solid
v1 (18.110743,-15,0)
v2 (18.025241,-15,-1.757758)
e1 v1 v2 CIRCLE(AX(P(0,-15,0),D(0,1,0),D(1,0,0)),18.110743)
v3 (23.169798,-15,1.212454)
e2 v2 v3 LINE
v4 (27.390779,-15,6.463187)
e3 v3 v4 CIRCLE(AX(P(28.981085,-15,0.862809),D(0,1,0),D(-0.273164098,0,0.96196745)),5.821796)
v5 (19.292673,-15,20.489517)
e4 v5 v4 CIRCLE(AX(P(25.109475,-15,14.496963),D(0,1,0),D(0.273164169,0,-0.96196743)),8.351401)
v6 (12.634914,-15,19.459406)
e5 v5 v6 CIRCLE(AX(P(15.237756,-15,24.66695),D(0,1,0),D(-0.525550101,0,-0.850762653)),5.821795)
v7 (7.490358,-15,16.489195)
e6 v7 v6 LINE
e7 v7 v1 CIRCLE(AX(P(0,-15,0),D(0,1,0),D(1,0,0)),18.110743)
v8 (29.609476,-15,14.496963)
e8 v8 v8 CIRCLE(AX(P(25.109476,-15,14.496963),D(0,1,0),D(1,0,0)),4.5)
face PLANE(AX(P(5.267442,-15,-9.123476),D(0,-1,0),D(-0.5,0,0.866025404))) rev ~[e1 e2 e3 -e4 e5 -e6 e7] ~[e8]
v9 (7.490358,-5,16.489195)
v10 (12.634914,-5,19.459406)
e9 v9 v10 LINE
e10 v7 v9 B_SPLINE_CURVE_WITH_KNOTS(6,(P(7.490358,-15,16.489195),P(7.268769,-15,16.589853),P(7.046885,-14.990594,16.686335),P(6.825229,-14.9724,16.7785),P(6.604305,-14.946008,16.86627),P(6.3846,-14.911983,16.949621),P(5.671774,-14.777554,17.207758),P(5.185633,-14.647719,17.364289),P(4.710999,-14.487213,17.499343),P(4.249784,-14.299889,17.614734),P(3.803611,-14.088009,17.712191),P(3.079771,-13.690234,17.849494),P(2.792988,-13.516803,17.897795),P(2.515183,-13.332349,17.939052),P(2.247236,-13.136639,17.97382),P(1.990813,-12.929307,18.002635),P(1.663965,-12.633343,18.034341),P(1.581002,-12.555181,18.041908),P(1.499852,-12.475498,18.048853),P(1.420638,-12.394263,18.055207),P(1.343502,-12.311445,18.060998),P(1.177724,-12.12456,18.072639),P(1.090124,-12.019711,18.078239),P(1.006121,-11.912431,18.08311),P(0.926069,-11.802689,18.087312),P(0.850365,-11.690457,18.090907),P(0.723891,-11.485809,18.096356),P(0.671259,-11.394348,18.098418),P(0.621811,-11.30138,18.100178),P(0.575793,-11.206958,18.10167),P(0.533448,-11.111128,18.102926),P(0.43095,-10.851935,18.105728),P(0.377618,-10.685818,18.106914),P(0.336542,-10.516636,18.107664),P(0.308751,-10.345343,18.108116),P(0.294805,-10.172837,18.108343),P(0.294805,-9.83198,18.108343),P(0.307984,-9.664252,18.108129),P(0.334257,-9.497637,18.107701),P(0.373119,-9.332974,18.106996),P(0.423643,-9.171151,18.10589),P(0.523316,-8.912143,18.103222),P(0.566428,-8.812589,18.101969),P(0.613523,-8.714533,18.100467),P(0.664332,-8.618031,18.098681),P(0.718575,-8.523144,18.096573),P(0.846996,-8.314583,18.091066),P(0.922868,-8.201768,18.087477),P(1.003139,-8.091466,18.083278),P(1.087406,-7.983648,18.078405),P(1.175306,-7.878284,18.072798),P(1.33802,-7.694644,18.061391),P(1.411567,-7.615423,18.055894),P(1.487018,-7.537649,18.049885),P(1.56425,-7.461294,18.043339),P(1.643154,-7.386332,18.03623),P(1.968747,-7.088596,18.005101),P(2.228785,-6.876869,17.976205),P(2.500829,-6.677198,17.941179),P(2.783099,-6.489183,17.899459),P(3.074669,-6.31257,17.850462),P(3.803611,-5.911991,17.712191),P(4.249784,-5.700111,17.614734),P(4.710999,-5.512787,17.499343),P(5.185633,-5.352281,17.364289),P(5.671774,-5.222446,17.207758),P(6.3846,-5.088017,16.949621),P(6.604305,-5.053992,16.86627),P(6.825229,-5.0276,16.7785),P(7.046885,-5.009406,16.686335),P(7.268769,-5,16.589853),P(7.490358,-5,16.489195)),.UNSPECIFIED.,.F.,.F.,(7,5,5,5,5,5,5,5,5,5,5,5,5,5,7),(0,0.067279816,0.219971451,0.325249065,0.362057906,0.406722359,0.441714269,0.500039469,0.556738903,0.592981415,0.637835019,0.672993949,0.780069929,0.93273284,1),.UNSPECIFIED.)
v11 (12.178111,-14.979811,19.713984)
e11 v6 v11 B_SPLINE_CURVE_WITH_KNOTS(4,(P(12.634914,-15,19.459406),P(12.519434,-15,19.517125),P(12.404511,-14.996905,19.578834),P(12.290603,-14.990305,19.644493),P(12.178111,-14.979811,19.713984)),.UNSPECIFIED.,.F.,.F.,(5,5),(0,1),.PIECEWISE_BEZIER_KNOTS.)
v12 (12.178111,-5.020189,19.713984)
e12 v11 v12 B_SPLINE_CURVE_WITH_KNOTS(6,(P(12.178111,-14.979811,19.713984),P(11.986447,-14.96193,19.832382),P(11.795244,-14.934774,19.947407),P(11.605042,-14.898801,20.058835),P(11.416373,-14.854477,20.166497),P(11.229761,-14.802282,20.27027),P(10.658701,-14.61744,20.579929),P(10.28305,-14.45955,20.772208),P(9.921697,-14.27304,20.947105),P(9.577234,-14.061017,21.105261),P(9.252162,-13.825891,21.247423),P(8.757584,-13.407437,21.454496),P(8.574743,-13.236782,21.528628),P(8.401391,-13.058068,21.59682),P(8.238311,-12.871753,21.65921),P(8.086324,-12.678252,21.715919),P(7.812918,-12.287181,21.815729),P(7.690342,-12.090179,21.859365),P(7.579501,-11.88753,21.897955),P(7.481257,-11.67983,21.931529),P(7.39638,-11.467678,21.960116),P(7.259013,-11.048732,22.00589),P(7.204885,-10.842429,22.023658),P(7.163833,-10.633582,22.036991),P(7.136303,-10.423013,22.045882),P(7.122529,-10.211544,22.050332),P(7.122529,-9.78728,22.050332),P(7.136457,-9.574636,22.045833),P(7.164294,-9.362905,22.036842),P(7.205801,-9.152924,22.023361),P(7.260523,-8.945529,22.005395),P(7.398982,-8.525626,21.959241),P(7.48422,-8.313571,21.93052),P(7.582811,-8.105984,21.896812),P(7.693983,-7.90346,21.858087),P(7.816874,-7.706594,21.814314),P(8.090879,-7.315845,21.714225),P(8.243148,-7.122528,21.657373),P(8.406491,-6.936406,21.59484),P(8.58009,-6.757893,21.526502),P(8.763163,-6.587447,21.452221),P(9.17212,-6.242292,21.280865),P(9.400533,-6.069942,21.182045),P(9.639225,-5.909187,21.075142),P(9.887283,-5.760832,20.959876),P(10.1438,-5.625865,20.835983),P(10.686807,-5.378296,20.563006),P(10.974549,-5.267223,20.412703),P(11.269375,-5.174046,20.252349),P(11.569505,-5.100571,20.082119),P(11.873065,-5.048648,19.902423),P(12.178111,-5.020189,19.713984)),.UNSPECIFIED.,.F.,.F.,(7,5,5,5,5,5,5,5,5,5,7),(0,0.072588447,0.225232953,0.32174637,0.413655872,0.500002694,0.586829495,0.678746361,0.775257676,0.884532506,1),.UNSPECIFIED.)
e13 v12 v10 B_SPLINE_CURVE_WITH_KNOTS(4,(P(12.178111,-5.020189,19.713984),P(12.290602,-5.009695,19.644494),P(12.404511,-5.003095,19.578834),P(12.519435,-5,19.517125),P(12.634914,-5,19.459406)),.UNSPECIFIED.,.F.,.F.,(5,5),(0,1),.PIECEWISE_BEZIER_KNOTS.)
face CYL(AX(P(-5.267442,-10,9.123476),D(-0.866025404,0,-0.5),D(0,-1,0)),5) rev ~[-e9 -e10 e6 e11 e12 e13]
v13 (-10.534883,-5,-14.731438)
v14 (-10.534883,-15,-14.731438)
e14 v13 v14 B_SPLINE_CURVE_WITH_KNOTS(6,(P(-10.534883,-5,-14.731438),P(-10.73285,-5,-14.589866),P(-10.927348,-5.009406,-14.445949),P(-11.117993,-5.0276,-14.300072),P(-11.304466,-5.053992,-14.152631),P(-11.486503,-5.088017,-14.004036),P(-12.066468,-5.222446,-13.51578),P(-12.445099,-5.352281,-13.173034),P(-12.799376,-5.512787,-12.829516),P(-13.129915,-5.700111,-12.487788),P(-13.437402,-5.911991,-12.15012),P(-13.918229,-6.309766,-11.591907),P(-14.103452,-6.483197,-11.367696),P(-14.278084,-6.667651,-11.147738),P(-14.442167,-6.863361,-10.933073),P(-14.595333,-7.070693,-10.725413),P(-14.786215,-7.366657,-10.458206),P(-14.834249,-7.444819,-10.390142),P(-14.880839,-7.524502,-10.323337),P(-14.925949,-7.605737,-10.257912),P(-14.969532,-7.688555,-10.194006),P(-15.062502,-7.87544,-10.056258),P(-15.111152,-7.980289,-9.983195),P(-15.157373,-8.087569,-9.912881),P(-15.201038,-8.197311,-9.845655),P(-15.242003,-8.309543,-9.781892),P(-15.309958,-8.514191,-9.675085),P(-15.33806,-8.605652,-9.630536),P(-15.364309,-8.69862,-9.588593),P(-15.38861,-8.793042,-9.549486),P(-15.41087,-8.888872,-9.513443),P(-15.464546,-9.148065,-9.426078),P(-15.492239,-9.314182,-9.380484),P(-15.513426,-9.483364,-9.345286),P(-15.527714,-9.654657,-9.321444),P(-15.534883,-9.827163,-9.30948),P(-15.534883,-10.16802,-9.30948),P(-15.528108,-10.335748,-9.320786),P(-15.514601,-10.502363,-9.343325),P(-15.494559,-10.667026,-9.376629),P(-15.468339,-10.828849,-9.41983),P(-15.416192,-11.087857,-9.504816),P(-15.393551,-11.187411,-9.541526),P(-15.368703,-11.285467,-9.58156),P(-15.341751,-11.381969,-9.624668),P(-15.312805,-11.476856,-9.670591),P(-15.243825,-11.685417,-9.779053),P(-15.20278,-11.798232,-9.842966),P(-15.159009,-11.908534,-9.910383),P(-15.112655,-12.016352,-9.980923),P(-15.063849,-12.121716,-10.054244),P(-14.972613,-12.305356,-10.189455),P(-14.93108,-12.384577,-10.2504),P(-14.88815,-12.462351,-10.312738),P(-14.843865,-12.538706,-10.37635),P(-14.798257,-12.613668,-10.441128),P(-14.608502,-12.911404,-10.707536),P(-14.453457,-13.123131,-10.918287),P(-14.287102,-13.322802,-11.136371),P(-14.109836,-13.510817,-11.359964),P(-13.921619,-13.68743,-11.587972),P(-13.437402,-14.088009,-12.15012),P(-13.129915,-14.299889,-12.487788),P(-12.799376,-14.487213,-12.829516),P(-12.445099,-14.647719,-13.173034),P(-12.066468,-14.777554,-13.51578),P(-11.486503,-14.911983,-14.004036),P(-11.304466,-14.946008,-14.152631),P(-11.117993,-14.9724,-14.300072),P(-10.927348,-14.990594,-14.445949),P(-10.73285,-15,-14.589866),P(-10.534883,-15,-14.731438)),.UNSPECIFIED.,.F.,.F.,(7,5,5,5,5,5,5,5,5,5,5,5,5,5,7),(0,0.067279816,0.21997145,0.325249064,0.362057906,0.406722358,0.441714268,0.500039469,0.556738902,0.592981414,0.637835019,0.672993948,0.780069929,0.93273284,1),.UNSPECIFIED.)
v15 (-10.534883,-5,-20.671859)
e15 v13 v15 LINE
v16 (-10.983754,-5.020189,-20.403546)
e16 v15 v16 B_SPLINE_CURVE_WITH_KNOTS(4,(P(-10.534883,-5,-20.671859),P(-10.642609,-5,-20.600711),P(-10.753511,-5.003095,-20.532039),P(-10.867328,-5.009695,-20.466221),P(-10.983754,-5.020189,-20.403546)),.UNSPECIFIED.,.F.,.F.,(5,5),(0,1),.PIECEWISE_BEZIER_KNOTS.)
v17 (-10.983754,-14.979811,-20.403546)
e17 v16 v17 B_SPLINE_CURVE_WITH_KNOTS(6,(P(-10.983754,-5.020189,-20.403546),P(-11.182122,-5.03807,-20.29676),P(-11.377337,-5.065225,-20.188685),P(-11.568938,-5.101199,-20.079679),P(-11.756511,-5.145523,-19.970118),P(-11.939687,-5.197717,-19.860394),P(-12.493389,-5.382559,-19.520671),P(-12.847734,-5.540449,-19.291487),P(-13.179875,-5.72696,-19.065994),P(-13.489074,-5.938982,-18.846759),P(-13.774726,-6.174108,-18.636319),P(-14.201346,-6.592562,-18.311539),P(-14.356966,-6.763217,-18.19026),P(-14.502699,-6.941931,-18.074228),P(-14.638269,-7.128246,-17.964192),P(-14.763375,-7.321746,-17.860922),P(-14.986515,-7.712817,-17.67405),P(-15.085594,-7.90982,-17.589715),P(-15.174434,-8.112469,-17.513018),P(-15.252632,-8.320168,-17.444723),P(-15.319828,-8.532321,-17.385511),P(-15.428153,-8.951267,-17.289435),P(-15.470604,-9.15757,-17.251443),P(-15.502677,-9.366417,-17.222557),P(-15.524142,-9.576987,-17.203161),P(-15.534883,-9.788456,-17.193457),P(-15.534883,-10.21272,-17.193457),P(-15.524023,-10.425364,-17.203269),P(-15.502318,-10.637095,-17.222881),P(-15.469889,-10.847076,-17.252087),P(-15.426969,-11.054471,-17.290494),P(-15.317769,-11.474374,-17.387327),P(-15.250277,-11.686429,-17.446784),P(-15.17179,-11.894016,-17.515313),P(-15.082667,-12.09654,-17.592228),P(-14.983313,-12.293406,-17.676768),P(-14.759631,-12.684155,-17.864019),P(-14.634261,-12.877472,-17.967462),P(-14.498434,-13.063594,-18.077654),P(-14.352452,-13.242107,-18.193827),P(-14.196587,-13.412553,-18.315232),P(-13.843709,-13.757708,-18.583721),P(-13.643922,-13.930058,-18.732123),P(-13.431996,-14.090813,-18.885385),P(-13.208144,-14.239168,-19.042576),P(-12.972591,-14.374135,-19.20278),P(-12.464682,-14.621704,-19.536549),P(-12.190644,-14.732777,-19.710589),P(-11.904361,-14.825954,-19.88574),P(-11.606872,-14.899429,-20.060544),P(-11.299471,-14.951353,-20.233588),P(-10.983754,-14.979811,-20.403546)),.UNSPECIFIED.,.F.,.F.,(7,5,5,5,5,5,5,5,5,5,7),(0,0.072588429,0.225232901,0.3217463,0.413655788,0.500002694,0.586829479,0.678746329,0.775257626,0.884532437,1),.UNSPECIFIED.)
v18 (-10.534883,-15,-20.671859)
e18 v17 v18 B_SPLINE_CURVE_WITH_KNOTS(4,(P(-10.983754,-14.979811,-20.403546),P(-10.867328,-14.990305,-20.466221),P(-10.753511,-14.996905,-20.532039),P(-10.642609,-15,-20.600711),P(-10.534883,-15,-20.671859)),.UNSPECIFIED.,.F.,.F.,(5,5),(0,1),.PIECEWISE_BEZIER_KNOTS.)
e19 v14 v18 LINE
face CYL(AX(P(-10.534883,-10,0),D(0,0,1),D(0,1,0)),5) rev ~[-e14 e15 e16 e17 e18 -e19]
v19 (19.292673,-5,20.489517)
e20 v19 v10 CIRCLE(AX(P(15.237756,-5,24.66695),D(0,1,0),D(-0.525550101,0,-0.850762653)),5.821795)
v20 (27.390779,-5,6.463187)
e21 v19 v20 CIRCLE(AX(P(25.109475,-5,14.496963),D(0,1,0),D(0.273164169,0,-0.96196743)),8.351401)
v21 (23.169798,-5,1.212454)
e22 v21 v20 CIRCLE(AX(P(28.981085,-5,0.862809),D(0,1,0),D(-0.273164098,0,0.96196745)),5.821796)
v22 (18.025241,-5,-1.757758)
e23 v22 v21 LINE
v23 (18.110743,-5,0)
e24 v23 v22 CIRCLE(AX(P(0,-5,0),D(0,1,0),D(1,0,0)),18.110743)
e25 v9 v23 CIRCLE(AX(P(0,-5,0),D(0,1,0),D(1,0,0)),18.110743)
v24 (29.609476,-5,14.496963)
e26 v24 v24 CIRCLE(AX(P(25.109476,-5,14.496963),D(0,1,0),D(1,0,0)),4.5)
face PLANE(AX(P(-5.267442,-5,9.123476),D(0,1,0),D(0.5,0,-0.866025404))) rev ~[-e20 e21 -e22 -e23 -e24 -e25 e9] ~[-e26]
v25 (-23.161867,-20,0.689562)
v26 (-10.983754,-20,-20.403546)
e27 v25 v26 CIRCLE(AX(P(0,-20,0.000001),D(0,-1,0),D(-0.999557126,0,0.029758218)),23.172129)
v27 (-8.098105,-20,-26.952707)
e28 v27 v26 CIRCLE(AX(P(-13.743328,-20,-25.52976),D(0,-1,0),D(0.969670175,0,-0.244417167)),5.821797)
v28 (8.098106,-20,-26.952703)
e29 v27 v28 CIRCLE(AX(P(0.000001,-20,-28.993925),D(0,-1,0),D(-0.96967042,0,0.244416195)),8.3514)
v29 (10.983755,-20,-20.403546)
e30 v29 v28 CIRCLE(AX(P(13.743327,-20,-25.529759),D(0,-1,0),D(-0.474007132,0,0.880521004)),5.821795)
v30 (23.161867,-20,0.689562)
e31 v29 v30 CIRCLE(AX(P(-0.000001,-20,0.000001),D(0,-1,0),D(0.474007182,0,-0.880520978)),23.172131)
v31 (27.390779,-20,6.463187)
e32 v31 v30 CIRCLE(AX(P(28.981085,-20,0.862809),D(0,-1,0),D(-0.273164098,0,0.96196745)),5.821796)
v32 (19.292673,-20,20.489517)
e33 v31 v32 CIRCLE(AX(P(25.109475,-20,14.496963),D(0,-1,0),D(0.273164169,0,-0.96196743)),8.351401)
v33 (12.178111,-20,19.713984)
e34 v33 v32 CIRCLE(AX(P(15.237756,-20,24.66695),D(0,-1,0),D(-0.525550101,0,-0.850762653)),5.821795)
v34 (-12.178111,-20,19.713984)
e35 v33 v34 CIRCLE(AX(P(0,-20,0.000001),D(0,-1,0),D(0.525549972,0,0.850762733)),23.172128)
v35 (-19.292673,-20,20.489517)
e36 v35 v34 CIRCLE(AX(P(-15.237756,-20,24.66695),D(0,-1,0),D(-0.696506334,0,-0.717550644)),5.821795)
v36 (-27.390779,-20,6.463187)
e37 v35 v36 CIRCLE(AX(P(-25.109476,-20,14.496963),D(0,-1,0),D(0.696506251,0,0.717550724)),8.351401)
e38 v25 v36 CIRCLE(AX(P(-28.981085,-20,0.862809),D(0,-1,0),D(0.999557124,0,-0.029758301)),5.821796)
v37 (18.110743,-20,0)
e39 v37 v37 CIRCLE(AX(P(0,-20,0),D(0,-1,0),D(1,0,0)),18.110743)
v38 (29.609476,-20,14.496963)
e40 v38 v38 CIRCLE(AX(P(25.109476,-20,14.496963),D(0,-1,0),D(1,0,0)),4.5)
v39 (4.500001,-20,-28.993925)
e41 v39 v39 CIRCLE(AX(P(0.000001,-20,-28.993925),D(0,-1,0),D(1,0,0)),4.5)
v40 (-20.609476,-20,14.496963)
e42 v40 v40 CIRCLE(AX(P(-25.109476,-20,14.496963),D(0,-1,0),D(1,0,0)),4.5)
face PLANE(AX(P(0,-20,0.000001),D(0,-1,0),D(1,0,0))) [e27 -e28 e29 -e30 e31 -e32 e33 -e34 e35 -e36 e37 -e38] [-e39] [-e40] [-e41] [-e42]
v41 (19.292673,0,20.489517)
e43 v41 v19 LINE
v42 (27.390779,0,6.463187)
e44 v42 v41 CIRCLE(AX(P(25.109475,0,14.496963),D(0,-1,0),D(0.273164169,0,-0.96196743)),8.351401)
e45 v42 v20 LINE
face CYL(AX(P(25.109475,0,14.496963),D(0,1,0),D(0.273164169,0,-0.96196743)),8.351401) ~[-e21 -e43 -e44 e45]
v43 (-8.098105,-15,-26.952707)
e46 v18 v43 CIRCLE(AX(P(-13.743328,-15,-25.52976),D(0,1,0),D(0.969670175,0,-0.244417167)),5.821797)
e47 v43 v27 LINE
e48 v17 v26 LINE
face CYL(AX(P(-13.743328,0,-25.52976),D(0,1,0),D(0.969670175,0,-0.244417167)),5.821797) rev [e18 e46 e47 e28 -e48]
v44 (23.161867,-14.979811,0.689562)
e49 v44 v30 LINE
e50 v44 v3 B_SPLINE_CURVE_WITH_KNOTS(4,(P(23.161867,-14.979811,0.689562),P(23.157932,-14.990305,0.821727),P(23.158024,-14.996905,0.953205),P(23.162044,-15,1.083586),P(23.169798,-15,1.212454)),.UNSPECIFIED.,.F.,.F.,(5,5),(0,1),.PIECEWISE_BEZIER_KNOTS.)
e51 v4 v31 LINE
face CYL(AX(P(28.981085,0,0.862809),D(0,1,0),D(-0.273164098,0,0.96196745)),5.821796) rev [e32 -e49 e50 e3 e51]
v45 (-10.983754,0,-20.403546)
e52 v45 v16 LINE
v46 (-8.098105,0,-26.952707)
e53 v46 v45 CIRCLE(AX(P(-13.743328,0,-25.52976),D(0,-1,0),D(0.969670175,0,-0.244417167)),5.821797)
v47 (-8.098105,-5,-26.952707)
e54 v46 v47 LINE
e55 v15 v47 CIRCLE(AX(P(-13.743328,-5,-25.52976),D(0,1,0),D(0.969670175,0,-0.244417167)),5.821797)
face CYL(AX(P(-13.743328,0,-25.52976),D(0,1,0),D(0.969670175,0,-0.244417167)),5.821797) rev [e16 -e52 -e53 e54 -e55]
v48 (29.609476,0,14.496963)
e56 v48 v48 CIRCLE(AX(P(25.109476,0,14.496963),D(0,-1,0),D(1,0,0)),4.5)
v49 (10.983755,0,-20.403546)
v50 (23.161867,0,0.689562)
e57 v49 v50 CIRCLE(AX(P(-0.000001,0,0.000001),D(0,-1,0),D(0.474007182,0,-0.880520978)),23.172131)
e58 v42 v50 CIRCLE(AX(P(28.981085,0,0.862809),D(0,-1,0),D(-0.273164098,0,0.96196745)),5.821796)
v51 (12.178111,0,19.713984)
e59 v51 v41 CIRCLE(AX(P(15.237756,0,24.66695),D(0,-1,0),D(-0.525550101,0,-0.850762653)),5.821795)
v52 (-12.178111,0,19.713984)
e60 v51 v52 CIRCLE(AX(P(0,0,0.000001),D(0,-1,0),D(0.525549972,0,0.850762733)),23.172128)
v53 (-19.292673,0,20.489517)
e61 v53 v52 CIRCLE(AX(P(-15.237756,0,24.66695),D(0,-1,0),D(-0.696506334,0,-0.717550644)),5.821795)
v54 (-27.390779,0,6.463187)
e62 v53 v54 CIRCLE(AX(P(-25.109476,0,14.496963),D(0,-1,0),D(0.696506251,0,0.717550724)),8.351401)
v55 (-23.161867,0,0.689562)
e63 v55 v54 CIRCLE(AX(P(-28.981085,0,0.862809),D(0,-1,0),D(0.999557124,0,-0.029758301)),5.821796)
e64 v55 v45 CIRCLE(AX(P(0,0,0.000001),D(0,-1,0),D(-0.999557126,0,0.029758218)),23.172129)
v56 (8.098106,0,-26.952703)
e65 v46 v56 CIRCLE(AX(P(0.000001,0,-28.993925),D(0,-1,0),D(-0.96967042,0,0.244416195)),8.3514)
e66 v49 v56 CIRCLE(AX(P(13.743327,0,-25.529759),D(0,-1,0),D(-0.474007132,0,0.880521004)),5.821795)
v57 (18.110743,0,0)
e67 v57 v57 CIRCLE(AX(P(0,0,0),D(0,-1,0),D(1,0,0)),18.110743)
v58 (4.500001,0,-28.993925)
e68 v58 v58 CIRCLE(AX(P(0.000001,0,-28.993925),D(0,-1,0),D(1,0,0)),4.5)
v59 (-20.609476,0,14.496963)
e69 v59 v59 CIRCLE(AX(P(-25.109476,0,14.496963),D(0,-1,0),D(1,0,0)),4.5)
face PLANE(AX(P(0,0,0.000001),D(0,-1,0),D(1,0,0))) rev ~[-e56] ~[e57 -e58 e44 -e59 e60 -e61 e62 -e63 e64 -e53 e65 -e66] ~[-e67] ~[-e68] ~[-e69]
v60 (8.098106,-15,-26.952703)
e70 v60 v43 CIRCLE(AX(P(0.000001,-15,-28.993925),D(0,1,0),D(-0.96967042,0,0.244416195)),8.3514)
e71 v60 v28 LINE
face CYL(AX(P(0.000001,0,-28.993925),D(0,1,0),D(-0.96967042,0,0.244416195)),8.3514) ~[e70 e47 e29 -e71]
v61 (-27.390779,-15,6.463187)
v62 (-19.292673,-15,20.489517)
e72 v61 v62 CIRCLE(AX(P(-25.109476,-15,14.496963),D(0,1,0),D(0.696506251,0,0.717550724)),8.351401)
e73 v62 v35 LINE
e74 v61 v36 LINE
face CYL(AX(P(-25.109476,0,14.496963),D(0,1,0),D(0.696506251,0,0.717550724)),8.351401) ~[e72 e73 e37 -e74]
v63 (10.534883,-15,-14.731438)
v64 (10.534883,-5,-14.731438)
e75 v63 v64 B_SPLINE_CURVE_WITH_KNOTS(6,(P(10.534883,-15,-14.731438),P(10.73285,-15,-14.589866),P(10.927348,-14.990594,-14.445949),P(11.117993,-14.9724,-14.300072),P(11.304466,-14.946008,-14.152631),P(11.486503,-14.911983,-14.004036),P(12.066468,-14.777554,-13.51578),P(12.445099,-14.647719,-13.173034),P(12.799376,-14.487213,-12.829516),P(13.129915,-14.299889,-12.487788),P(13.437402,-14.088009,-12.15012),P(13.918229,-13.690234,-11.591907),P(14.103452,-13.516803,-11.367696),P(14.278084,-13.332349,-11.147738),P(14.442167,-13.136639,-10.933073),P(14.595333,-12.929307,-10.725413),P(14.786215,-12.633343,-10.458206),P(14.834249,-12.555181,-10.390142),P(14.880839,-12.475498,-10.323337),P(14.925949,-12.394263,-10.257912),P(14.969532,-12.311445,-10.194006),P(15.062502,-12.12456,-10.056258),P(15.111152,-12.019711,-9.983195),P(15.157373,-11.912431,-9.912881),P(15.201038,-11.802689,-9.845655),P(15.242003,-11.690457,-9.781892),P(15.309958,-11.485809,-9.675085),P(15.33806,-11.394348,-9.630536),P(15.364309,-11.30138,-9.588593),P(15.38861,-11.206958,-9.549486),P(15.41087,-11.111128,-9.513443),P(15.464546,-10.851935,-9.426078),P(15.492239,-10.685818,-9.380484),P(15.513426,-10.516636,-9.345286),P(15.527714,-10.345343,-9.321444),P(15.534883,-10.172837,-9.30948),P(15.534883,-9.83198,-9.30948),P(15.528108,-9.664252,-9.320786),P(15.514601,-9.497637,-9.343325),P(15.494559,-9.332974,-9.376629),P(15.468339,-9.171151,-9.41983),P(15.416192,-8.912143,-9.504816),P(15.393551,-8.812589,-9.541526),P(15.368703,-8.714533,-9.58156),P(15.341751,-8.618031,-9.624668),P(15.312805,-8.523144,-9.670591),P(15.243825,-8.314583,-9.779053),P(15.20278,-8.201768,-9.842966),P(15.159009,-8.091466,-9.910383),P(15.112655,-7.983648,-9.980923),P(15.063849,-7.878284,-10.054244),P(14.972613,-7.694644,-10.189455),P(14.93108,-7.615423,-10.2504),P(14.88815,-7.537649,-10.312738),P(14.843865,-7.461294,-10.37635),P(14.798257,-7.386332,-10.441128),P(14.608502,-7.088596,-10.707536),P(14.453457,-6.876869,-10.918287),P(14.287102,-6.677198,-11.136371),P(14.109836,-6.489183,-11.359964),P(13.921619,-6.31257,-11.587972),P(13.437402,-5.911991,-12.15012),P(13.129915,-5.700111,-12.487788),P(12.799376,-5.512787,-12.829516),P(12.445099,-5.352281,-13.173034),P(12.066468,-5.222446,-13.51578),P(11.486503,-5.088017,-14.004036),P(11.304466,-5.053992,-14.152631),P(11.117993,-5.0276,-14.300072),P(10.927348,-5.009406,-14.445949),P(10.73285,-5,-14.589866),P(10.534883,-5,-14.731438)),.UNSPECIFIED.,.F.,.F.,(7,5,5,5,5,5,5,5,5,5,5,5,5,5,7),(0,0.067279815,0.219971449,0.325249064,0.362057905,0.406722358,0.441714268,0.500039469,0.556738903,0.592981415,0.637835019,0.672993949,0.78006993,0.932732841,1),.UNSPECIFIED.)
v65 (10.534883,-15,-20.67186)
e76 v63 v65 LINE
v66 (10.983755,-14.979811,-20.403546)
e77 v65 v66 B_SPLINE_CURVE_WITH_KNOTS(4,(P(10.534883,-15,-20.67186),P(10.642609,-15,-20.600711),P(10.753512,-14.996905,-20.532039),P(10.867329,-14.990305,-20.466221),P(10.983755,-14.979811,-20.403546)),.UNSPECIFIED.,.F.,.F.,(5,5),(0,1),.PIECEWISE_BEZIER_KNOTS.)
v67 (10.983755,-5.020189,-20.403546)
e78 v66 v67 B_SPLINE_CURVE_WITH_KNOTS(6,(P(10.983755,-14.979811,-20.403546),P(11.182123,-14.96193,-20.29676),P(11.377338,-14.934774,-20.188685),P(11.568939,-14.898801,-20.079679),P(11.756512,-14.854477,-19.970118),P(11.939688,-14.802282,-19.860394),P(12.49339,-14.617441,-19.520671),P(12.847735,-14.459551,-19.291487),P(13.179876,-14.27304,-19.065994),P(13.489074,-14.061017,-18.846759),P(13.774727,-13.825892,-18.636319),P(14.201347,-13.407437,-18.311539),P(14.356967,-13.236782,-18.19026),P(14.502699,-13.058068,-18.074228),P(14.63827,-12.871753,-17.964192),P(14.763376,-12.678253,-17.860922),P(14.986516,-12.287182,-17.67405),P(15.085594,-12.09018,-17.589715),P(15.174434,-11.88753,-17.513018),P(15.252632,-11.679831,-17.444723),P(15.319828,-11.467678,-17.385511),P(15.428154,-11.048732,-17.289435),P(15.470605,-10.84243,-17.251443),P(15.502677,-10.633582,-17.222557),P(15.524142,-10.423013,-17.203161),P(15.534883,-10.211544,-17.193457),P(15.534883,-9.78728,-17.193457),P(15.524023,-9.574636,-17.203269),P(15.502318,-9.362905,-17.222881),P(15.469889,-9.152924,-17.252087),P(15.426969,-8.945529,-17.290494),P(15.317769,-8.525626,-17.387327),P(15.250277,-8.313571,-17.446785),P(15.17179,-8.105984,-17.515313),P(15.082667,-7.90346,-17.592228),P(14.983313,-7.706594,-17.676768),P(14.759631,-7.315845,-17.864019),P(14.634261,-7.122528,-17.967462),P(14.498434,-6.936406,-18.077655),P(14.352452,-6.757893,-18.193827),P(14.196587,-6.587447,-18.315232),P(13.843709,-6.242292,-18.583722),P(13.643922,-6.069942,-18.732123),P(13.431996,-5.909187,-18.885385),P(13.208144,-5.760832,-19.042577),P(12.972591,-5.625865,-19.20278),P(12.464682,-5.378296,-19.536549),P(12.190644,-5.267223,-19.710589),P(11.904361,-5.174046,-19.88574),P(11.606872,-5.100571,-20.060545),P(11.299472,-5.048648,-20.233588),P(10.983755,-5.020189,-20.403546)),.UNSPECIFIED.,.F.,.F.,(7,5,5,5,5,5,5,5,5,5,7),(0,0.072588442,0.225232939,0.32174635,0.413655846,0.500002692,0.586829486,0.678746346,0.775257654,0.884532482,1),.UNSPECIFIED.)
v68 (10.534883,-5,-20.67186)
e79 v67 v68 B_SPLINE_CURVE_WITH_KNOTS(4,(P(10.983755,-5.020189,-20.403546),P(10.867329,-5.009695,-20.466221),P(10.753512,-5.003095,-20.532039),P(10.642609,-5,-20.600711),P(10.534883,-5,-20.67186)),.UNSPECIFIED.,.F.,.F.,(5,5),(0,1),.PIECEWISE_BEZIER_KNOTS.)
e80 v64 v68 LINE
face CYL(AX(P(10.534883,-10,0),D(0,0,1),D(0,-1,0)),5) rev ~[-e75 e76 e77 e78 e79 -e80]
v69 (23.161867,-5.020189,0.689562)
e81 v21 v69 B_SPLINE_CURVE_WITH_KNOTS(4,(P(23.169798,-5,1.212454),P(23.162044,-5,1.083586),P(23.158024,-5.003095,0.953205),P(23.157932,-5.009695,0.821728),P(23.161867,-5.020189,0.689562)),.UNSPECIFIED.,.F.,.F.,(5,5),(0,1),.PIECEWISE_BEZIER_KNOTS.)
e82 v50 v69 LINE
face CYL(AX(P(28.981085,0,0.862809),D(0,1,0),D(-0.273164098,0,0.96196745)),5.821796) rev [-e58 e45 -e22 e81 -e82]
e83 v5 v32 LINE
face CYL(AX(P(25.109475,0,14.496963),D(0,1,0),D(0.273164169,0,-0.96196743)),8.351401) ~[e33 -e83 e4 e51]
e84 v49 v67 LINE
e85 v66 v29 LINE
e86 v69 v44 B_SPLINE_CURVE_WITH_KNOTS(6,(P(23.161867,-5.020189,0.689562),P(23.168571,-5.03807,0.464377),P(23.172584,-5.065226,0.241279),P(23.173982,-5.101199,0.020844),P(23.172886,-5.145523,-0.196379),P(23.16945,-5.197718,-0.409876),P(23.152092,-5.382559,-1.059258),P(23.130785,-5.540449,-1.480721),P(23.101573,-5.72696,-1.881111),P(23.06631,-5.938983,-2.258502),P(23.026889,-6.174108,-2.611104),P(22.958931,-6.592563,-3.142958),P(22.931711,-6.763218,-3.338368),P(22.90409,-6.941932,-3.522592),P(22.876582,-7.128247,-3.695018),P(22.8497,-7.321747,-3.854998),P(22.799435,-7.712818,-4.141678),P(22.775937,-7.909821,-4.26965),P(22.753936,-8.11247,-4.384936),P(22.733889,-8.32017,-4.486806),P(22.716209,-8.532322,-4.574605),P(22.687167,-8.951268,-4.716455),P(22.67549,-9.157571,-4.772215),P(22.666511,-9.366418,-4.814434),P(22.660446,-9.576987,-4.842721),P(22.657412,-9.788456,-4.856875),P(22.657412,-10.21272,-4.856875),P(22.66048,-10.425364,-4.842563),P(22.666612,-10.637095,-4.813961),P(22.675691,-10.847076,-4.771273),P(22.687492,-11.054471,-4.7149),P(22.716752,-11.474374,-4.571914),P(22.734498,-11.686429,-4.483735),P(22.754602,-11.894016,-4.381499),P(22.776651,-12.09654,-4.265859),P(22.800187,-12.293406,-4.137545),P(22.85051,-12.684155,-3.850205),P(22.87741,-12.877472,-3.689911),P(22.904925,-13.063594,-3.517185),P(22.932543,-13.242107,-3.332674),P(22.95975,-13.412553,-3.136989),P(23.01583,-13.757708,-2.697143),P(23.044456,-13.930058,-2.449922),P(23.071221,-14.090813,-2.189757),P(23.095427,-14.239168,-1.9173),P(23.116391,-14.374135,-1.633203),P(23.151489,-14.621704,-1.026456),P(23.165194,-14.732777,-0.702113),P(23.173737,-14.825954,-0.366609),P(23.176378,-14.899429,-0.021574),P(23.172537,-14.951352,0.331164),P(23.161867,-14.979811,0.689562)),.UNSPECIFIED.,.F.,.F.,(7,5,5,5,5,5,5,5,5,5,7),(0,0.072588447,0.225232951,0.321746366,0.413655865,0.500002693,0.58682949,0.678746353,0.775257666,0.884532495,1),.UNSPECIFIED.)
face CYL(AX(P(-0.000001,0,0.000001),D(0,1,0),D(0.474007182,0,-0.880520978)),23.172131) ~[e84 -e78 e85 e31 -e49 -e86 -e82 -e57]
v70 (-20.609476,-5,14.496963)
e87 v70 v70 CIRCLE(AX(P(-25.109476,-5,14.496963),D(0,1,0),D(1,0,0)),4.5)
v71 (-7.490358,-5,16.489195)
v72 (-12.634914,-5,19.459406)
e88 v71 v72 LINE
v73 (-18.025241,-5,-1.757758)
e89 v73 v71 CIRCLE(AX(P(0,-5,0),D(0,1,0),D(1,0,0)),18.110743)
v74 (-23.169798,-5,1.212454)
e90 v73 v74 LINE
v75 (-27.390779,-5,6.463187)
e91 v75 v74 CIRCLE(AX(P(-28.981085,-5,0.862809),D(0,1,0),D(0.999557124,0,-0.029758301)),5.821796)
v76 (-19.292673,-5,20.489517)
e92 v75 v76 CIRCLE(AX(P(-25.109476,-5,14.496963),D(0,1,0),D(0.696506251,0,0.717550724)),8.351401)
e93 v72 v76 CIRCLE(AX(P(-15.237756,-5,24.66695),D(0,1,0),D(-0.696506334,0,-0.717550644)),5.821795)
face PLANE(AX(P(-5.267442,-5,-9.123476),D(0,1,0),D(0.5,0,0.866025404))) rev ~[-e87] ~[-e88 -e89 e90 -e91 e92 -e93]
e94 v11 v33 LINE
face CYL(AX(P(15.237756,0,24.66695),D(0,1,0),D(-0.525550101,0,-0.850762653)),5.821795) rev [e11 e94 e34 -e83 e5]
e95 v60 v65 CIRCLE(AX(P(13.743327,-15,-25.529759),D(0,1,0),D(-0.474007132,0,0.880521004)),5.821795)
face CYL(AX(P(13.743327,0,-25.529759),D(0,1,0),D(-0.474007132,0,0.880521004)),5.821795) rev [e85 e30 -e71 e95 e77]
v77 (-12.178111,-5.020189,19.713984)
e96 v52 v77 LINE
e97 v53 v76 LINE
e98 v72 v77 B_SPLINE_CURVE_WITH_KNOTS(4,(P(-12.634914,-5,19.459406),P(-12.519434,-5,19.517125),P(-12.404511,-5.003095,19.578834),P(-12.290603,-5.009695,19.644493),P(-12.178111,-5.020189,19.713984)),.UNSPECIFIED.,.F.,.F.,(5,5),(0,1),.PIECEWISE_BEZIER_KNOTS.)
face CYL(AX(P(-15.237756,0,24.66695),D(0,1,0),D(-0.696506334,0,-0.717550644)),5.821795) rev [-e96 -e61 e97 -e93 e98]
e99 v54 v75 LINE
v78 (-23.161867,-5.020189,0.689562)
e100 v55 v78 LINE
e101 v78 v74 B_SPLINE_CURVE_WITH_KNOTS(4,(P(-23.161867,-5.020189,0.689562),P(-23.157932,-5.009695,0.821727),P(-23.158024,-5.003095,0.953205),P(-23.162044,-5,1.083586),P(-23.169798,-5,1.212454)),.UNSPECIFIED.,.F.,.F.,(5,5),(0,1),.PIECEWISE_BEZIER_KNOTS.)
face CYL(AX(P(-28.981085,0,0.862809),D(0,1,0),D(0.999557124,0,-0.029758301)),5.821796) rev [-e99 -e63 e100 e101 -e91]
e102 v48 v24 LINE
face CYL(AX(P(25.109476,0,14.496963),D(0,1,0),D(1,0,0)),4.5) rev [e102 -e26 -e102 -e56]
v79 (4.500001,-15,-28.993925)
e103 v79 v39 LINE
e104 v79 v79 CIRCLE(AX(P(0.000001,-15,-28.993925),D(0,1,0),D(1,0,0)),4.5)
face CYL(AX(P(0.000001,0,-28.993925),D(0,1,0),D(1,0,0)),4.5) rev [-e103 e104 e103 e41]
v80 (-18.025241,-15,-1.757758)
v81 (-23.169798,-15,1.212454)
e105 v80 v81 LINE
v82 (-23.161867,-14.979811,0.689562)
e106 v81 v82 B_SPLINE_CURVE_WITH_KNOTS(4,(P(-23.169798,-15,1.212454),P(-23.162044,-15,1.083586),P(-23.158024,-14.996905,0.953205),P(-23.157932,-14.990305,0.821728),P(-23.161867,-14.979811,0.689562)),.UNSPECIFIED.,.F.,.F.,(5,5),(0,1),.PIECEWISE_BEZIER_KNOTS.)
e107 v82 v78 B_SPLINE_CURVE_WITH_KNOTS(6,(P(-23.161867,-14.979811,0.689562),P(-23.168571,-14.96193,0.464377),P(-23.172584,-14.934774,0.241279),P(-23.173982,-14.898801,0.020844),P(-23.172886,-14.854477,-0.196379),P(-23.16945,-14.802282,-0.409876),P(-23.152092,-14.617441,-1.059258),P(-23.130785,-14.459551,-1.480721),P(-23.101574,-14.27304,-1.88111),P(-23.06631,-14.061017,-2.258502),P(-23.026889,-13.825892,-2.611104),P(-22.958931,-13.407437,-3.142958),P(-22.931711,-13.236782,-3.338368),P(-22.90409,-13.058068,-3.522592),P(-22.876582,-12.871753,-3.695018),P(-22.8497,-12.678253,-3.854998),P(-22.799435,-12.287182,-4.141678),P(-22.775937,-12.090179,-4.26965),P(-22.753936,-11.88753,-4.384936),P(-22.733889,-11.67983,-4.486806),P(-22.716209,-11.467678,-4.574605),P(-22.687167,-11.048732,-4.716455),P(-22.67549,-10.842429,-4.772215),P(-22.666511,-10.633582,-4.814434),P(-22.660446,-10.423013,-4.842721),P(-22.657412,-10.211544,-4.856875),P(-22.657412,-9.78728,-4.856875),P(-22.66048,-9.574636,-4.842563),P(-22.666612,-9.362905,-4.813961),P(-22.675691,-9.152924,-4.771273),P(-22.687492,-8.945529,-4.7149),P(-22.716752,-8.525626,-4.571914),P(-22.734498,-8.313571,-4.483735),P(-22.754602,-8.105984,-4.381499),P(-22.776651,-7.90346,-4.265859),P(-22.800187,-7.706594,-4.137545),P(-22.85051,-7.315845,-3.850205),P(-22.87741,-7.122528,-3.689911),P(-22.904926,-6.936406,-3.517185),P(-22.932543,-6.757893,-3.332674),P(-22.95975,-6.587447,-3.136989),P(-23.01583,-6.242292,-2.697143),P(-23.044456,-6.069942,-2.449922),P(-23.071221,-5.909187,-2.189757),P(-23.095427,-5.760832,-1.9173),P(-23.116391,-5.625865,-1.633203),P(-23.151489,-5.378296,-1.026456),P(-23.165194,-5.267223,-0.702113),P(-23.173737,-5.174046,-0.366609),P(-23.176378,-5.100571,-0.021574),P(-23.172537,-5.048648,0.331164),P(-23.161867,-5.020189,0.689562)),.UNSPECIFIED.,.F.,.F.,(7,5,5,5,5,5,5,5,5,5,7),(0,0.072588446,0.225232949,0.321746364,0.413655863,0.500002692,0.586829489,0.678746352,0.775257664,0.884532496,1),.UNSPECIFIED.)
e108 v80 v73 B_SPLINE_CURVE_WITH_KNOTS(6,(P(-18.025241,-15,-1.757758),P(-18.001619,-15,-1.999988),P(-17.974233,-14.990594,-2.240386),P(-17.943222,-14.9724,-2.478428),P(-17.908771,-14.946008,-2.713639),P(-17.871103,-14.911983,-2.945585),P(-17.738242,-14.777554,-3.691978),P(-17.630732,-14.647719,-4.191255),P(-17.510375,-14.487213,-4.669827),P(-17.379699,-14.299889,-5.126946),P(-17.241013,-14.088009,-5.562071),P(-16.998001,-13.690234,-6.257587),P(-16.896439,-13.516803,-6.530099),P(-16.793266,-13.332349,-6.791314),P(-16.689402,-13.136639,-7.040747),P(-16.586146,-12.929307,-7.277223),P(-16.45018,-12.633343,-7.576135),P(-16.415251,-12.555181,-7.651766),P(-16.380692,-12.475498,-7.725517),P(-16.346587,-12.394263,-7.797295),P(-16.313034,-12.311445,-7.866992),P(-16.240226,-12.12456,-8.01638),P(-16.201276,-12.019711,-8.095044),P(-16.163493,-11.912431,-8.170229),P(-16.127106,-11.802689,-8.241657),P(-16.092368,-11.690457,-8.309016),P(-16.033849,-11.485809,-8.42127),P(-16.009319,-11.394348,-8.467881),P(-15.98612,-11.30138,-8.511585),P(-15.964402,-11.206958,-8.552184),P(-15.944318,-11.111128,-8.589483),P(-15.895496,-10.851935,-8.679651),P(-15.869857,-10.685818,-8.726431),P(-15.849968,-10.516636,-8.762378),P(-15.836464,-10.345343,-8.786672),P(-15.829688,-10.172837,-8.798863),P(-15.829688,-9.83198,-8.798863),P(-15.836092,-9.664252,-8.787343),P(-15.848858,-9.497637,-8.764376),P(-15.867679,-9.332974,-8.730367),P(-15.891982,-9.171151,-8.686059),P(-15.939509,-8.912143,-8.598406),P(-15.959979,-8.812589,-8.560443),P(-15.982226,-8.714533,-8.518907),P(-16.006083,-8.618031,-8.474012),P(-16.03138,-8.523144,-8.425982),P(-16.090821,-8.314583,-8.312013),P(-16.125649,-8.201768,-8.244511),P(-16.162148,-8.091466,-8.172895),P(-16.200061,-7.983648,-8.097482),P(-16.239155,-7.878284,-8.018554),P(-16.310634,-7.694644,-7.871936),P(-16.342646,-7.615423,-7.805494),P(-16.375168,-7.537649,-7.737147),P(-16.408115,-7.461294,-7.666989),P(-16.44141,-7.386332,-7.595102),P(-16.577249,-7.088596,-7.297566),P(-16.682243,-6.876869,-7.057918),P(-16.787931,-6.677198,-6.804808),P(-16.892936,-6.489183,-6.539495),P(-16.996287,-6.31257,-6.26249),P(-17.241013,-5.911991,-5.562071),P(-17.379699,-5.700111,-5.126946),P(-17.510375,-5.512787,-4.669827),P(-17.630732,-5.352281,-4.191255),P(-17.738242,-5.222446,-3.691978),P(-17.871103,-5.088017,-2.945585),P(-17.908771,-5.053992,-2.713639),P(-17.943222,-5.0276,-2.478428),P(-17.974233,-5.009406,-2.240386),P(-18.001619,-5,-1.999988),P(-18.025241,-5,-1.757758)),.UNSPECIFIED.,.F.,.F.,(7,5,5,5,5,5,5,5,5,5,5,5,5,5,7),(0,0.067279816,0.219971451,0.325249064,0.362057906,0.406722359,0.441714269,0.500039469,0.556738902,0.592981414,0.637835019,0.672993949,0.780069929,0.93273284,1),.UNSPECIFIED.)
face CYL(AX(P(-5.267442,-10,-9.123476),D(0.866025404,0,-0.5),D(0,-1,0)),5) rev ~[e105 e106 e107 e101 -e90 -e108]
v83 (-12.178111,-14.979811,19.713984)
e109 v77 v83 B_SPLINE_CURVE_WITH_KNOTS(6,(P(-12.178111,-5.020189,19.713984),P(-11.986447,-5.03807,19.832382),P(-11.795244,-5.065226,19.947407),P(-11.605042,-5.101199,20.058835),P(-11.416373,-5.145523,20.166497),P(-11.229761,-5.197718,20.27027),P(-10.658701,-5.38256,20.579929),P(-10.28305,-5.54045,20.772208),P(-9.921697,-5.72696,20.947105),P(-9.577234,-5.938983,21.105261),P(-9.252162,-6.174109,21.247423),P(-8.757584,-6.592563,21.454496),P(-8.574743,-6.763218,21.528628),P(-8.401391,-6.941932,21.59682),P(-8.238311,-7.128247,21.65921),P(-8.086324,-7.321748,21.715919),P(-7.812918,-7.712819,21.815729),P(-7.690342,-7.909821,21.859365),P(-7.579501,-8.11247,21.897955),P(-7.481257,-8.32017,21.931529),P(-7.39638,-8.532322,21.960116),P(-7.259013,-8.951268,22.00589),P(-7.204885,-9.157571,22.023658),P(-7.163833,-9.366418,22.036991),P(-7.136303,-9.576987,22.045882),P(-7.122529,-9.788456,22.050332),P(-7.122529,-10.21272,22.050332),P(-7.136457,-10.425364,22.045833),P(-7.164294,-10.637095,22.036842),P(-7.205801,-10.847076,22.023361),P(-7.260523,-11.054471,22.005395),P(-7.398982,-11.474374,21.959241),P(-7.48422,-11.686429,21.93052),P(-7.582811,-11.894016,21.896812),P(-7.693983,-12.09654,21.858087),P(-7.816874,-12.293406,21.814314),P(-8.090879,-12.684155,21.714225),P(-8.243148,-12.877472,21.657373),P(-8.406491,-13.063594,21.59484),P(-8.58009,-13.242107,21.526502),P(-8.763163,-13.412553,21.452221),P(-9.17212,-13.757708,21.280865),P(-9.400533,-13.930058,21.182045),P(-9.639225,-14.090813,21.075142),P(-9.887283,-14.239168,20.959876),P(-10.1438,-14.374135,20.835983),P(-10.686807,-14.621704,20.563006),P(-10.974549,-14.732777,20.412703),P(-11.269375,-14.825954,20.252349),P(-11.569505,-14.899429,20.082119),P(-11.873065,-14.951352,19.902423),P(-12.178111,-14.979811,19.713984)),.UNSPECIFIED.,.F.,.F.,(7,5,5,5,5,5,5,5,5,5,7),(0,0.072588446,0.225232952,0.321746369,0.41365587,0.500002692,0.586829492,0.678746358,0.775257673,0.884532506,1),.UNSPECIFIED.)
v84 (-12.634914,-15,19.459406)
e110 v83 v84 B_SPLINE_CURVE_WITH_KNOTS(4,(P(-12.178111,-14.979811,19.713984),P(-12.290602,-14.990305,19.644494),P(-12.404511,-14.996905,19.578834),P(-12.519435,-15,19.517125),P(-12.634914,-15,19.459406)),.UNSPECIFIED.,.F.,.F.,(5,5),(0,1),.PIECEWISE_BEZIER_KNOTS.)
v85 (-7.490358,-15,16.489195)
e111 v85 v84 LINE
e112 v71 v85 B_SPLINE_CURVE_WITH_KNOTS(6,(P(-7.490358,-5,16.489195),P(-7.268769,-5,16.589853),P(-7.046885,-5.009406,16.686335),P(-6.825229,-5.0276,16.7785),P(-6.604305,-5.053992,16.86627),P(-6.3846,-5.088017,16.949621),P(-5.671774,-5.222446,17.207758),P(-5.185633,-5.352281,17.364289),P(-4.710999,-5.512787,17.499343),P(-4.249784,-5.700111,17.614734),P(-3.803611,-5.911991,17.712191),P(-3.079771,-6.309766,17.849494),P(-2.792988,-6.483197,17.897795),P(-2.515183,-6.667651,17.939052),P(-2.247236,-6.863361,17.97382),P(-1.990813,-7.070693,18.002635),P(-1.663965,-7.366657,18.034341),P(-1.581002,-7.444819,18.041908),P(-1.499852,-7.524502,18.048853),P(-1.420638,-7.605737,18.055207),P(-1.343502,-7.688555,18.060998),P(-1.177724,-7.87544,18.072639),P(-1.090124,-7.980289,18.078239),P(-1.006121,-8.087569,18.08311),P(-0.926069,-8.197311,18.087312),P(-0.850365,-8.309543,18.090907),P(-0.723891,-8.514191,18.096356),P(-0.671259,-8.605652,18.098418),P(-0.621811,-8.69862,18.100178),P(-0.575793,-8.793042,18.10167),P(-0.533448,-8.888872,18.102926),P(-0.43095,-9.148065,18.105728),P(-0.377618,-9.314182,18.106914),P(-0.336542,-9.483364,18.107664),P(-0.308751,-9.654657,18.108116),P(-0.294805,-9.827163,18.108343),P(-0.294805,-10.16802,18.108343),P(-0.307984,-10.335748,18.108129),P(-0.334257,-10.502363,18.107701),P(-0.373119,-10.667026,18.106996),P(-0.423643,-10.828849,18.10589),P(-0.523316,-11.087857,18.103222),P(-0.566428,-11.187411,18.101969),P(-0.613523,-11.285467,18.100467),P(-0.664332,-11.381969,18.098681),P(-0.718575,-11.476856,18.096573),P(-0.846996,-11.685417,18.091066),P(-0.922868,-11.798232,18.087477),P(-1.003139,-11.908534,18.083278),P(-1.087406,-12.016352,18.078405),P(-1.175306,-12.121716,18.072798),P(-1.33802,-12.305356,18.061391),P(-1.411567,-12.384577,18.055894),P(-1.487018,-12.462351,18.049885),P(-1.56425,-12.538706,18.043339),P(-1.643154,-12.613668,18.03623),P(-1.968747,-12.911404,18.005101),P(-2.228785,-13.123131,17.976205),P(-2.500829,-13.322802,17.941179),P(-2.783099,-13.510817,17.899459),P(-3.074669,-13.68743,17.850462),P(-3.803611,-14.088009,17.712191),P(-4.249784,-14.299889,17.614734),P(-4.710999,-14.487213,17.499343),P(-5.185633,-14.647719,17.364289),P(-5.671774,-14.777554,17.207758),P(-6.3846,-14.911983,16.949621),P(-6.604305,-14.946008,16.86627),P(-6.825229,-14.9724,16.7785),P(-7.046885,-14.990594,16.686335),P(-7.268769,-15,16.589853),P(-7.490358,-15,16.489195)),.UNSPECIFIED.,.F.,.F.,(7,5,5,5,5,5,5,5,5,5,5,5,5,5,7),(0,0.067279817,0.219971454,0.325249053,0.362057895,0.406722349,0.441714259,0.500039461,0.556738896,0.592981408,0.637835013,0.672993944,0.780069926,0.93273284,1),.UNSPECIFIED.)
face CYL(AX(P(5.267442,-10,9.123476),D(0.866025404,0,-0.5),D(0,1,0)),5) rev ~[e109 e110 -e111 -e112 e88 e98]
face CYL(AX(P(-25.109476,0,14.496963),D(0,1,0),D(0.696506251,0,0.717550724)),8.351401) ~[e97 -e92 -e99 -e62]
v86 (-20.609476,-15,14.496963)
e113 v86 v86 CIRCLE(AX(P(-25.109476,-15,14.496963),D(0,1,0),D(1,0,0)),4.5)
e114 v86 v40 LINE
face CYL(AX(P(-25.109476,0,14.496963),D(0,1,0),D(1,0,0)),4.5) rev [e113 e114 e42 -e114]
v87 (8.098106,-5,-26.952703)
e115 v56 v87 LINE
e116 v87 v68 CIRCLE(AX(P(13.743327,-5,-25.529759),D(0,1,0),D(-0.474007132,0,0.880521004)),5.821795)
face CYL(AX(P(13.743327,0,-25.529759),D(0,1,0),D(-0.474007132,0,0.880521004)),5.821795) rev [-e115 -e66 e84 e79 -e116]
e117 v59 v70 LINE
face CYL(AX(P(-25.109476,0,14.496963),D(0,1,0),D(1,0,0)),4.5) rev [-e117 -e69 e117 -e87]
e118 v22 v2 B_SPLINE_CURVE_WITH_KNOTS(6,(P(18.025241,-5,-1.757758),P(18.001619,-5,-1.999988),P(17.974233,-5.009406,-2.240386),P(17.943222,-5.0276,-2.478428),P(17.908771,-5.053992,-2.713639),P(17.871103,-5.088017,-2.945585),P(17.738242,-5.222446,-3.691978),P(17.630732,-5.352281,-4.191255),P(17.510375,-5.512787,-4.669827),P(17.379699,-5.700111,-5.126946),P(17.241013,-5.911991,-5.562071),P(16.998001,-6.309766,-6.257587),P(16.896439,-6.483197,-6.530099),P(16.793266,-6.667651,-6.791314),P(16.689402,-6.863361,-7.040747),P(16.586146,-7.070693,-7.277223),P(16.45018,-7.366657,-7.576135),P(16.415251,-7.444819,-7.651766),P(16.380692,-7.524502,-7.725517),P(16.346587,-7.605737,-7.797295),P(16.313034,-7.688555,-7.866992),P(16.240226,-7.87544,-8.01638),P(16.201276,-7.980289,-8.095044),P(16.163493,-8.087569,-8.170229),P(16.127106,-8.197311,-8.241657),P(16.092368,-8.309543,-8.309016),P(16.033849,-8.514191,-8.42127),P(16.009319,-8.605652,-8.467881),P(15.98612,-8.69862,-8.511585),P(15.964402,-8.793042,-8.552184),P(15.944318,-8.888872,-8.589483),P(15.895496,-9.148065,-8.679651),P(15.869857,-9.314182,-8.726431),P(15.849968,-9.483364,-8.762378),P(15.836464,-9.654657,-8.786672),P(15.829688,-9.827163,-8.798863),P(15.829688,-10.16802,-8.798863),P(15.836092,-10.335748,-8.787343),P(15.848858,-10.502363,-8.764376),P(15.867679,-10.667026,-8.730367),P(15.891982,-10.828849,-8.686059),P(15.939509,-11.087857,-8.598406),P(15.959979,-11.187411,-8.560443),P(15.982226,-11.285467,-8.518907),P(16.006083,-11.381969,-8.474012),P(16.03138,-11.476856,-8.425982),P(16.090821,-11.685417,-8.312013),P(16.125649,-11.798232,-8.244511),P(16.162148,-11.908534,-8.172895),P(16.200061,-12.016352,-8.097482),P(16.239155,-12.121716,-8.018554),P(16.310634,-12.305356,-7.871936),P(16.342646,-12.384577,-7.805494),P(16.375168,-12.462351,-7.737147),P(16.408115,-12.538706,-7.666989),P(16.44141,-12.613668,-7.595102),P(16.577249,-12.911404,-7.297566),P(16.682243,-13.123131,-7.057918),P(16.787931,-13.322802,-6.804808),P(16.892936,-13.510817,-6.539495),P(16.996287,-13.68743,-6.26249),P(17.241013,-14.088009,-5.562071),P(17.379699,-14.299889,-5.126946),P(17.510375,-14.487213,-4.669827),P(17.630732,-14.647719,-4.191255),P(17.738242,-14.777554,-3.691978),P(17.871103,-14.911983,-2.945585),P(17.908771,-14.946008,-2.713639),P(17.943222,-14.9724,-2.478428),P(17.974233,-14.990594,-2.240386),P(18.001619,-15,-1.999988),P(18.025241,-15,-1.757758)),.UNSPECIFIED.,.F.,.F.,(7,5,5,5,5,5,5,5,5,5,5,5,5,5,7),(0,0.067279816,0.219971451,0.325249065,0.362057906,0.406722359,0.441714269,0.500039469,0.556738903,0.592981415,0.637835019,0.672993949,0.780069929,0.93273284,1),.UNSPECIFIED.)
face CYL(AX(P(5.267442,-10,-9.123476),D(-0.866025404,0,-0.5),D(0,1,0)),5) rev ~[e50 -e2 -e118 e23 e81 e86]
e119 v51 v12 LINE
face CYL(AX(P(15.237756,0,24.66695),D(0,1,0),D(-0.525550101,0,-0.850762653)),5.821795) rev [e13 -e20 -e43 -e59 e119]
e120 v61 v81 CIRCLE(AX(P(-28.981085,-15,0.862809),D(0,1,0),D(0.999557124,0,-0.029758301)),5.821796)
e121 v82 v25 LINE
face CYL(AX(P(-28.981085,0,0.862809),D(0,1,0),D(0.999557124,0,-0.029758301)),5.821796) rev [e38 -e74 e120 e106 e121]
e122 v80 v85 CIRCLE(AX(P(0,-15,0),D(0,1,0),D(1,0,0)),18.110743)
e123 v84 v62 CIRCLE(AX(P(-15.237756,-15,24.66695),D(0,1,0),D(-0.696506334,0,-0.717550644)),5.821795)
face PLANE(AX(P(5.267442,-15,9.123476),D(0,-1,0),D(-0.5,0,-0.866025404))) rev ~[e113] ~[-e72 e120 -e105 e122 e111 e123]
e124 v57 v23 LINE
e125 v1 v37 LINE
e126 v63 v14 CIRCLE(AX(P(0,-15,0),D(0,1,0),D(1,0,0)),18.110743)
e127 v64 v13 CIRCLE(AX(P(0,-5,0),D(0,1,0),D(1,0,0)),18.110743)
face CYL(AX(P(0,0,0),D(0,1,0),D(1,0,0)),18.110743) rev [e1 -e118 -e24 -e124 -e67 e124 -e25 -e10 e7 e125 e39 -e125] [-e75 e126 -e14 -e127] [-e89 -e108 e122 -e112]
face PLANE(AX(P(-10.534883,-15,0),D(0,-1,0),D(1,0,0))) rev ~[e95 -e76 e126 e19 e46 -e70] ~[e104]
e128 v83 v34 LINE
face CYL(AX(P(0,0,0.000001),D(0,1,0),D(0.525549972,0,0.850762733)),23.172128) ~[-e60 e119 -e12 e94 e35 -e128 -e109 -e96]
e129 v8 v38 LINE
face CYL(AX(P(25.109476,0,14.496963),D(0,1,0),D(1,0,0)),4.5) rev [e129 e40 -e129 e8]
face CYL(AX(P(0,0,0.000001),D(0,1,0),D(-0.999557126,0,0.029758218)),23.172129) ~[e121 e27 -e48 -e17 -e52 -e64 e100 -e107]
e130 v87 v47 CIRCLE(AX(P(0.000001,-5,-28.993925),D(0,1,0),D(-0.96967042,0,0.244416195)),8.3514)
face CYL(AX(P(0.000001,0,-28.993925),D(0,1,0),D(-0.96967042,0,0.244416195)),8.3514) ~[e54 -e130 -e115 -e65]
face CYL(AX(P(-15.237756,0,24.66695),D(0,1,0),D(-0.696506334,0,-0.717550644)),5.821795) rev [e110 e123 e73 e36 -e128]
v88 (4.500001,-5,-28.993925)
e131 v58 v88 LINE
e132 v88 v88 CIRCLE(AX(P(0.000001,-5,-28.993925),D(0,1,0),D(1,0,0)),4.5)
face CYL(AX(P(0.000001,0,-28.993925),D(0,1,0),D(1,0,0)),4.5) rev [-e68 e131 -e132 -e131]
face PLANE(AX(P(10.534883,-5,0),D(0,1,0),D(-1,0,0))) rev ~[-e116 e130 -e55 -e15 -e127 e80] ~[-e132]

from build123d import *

# Parameters (mm, degrees)
SKETCH_R           = 4.5
SKETCH_R_2         = 18.110743
PAD_DEPTH          = 20
POCKET_DEPTH       = 60
POLARPATTERN_COUNT = 3


with BuildPart() as part:
    # Sketch → Pad (new body)
    with BuildSketch(Plane.XZ):
        with BuildLine():
            ThreePointArc((12.178111, 19.713984), (0, 23.172129), (-12.178111, 19.713984))
            ThreePointArc((-19.292673, 20.489517), (-15.868632, 18.879438), (-12.178111, 19.713984))
            ThreePointArc((-19.292673, 20.489517), (-32.342002, 18.672663), (-27.390779, 6.463187))
            ThreePointArc((-23.161867, 0.689562), (-24.284389, 4.302919), (-27.390779, 6.463187))
            ThreePointArc((-23.161867, 0.689562), (-20.067652, -11.586065), (-10.983754, -20.403546))
            ThreePointArc((-8.098105, -26.952707), (-8.415755, -23.18236), (-10.983754, -20.403546))
            ThreePointArc((-8.098105, -26.952707), (3e-06, -37.345325), (8.098106, -26.952703))
            ThreePointArc((10.983755, -20.403546), (8.415757, -23.182358), (8.098106, -26.952703))
            ThreePointArc((10.983755, -20.403546), (20.067652, -11.586065), (23.161867, 0.689562))
            ThreePointArc((27.390779, 6.463187), (24.284389, 4.302919), (23.161867, 0.689562))
            ThreePointArc((27.390779, 6.463187), (32.342001, 18.672663), (19.292673, 20.489517))
            ThreePointArc((12.178111, 19.713984), (15.868632, 18.879438), (19.292673, 20.489517))
        make_face()
        with Locations((-25.109476, 14.496963)):
            Circle(SKETCH_R, mode=Mode.SUBTRACT)
        with Locations((25.109476, 14.496963)):
            Circle(SKETCH_R, mode=Mode.SUBTRACT)
        with Locations((1e-06, -28.993925)):
            Circle(SKETCH_R, mode=Mode.SUBTRACT)
        Circle(SKETCH_R_2, mode=Mode.SUBTRACT)
    extrude(amount=PAD_DEPTH)

    # Sketch001 → Pocket (cut)
    with BuildSketch(Plane.XY):
        with BuildLine():
            ThreePointArc((-10.534883, -5), (-15.534883, -10), (-10.534883, -15))
            Line((-10.534883, -15), (10.534883, -15))
            ThreePointArc((10.534883, -15), (15.534883, -10), (10.534883, -5))
            Line((10.534883, -5), (-10.534883, -5))
        make_face()
    pocket = extrude(amount=-POCKET_DEPTH, mode=Mode.SUBTRACT)

    # PolarPattern: Pocket ×3 about axis
    polarpattern_axis = Axis((0, 0, 0), (0, 1, 0))
    for i in range(1, POLARPATTERN_COUNT):
        add(pocket.rotate(polarpattern_axis, i * 360 / POLARPATTERN_COUNT), mode=Mode.SUBTRACT)


solid = part.part
